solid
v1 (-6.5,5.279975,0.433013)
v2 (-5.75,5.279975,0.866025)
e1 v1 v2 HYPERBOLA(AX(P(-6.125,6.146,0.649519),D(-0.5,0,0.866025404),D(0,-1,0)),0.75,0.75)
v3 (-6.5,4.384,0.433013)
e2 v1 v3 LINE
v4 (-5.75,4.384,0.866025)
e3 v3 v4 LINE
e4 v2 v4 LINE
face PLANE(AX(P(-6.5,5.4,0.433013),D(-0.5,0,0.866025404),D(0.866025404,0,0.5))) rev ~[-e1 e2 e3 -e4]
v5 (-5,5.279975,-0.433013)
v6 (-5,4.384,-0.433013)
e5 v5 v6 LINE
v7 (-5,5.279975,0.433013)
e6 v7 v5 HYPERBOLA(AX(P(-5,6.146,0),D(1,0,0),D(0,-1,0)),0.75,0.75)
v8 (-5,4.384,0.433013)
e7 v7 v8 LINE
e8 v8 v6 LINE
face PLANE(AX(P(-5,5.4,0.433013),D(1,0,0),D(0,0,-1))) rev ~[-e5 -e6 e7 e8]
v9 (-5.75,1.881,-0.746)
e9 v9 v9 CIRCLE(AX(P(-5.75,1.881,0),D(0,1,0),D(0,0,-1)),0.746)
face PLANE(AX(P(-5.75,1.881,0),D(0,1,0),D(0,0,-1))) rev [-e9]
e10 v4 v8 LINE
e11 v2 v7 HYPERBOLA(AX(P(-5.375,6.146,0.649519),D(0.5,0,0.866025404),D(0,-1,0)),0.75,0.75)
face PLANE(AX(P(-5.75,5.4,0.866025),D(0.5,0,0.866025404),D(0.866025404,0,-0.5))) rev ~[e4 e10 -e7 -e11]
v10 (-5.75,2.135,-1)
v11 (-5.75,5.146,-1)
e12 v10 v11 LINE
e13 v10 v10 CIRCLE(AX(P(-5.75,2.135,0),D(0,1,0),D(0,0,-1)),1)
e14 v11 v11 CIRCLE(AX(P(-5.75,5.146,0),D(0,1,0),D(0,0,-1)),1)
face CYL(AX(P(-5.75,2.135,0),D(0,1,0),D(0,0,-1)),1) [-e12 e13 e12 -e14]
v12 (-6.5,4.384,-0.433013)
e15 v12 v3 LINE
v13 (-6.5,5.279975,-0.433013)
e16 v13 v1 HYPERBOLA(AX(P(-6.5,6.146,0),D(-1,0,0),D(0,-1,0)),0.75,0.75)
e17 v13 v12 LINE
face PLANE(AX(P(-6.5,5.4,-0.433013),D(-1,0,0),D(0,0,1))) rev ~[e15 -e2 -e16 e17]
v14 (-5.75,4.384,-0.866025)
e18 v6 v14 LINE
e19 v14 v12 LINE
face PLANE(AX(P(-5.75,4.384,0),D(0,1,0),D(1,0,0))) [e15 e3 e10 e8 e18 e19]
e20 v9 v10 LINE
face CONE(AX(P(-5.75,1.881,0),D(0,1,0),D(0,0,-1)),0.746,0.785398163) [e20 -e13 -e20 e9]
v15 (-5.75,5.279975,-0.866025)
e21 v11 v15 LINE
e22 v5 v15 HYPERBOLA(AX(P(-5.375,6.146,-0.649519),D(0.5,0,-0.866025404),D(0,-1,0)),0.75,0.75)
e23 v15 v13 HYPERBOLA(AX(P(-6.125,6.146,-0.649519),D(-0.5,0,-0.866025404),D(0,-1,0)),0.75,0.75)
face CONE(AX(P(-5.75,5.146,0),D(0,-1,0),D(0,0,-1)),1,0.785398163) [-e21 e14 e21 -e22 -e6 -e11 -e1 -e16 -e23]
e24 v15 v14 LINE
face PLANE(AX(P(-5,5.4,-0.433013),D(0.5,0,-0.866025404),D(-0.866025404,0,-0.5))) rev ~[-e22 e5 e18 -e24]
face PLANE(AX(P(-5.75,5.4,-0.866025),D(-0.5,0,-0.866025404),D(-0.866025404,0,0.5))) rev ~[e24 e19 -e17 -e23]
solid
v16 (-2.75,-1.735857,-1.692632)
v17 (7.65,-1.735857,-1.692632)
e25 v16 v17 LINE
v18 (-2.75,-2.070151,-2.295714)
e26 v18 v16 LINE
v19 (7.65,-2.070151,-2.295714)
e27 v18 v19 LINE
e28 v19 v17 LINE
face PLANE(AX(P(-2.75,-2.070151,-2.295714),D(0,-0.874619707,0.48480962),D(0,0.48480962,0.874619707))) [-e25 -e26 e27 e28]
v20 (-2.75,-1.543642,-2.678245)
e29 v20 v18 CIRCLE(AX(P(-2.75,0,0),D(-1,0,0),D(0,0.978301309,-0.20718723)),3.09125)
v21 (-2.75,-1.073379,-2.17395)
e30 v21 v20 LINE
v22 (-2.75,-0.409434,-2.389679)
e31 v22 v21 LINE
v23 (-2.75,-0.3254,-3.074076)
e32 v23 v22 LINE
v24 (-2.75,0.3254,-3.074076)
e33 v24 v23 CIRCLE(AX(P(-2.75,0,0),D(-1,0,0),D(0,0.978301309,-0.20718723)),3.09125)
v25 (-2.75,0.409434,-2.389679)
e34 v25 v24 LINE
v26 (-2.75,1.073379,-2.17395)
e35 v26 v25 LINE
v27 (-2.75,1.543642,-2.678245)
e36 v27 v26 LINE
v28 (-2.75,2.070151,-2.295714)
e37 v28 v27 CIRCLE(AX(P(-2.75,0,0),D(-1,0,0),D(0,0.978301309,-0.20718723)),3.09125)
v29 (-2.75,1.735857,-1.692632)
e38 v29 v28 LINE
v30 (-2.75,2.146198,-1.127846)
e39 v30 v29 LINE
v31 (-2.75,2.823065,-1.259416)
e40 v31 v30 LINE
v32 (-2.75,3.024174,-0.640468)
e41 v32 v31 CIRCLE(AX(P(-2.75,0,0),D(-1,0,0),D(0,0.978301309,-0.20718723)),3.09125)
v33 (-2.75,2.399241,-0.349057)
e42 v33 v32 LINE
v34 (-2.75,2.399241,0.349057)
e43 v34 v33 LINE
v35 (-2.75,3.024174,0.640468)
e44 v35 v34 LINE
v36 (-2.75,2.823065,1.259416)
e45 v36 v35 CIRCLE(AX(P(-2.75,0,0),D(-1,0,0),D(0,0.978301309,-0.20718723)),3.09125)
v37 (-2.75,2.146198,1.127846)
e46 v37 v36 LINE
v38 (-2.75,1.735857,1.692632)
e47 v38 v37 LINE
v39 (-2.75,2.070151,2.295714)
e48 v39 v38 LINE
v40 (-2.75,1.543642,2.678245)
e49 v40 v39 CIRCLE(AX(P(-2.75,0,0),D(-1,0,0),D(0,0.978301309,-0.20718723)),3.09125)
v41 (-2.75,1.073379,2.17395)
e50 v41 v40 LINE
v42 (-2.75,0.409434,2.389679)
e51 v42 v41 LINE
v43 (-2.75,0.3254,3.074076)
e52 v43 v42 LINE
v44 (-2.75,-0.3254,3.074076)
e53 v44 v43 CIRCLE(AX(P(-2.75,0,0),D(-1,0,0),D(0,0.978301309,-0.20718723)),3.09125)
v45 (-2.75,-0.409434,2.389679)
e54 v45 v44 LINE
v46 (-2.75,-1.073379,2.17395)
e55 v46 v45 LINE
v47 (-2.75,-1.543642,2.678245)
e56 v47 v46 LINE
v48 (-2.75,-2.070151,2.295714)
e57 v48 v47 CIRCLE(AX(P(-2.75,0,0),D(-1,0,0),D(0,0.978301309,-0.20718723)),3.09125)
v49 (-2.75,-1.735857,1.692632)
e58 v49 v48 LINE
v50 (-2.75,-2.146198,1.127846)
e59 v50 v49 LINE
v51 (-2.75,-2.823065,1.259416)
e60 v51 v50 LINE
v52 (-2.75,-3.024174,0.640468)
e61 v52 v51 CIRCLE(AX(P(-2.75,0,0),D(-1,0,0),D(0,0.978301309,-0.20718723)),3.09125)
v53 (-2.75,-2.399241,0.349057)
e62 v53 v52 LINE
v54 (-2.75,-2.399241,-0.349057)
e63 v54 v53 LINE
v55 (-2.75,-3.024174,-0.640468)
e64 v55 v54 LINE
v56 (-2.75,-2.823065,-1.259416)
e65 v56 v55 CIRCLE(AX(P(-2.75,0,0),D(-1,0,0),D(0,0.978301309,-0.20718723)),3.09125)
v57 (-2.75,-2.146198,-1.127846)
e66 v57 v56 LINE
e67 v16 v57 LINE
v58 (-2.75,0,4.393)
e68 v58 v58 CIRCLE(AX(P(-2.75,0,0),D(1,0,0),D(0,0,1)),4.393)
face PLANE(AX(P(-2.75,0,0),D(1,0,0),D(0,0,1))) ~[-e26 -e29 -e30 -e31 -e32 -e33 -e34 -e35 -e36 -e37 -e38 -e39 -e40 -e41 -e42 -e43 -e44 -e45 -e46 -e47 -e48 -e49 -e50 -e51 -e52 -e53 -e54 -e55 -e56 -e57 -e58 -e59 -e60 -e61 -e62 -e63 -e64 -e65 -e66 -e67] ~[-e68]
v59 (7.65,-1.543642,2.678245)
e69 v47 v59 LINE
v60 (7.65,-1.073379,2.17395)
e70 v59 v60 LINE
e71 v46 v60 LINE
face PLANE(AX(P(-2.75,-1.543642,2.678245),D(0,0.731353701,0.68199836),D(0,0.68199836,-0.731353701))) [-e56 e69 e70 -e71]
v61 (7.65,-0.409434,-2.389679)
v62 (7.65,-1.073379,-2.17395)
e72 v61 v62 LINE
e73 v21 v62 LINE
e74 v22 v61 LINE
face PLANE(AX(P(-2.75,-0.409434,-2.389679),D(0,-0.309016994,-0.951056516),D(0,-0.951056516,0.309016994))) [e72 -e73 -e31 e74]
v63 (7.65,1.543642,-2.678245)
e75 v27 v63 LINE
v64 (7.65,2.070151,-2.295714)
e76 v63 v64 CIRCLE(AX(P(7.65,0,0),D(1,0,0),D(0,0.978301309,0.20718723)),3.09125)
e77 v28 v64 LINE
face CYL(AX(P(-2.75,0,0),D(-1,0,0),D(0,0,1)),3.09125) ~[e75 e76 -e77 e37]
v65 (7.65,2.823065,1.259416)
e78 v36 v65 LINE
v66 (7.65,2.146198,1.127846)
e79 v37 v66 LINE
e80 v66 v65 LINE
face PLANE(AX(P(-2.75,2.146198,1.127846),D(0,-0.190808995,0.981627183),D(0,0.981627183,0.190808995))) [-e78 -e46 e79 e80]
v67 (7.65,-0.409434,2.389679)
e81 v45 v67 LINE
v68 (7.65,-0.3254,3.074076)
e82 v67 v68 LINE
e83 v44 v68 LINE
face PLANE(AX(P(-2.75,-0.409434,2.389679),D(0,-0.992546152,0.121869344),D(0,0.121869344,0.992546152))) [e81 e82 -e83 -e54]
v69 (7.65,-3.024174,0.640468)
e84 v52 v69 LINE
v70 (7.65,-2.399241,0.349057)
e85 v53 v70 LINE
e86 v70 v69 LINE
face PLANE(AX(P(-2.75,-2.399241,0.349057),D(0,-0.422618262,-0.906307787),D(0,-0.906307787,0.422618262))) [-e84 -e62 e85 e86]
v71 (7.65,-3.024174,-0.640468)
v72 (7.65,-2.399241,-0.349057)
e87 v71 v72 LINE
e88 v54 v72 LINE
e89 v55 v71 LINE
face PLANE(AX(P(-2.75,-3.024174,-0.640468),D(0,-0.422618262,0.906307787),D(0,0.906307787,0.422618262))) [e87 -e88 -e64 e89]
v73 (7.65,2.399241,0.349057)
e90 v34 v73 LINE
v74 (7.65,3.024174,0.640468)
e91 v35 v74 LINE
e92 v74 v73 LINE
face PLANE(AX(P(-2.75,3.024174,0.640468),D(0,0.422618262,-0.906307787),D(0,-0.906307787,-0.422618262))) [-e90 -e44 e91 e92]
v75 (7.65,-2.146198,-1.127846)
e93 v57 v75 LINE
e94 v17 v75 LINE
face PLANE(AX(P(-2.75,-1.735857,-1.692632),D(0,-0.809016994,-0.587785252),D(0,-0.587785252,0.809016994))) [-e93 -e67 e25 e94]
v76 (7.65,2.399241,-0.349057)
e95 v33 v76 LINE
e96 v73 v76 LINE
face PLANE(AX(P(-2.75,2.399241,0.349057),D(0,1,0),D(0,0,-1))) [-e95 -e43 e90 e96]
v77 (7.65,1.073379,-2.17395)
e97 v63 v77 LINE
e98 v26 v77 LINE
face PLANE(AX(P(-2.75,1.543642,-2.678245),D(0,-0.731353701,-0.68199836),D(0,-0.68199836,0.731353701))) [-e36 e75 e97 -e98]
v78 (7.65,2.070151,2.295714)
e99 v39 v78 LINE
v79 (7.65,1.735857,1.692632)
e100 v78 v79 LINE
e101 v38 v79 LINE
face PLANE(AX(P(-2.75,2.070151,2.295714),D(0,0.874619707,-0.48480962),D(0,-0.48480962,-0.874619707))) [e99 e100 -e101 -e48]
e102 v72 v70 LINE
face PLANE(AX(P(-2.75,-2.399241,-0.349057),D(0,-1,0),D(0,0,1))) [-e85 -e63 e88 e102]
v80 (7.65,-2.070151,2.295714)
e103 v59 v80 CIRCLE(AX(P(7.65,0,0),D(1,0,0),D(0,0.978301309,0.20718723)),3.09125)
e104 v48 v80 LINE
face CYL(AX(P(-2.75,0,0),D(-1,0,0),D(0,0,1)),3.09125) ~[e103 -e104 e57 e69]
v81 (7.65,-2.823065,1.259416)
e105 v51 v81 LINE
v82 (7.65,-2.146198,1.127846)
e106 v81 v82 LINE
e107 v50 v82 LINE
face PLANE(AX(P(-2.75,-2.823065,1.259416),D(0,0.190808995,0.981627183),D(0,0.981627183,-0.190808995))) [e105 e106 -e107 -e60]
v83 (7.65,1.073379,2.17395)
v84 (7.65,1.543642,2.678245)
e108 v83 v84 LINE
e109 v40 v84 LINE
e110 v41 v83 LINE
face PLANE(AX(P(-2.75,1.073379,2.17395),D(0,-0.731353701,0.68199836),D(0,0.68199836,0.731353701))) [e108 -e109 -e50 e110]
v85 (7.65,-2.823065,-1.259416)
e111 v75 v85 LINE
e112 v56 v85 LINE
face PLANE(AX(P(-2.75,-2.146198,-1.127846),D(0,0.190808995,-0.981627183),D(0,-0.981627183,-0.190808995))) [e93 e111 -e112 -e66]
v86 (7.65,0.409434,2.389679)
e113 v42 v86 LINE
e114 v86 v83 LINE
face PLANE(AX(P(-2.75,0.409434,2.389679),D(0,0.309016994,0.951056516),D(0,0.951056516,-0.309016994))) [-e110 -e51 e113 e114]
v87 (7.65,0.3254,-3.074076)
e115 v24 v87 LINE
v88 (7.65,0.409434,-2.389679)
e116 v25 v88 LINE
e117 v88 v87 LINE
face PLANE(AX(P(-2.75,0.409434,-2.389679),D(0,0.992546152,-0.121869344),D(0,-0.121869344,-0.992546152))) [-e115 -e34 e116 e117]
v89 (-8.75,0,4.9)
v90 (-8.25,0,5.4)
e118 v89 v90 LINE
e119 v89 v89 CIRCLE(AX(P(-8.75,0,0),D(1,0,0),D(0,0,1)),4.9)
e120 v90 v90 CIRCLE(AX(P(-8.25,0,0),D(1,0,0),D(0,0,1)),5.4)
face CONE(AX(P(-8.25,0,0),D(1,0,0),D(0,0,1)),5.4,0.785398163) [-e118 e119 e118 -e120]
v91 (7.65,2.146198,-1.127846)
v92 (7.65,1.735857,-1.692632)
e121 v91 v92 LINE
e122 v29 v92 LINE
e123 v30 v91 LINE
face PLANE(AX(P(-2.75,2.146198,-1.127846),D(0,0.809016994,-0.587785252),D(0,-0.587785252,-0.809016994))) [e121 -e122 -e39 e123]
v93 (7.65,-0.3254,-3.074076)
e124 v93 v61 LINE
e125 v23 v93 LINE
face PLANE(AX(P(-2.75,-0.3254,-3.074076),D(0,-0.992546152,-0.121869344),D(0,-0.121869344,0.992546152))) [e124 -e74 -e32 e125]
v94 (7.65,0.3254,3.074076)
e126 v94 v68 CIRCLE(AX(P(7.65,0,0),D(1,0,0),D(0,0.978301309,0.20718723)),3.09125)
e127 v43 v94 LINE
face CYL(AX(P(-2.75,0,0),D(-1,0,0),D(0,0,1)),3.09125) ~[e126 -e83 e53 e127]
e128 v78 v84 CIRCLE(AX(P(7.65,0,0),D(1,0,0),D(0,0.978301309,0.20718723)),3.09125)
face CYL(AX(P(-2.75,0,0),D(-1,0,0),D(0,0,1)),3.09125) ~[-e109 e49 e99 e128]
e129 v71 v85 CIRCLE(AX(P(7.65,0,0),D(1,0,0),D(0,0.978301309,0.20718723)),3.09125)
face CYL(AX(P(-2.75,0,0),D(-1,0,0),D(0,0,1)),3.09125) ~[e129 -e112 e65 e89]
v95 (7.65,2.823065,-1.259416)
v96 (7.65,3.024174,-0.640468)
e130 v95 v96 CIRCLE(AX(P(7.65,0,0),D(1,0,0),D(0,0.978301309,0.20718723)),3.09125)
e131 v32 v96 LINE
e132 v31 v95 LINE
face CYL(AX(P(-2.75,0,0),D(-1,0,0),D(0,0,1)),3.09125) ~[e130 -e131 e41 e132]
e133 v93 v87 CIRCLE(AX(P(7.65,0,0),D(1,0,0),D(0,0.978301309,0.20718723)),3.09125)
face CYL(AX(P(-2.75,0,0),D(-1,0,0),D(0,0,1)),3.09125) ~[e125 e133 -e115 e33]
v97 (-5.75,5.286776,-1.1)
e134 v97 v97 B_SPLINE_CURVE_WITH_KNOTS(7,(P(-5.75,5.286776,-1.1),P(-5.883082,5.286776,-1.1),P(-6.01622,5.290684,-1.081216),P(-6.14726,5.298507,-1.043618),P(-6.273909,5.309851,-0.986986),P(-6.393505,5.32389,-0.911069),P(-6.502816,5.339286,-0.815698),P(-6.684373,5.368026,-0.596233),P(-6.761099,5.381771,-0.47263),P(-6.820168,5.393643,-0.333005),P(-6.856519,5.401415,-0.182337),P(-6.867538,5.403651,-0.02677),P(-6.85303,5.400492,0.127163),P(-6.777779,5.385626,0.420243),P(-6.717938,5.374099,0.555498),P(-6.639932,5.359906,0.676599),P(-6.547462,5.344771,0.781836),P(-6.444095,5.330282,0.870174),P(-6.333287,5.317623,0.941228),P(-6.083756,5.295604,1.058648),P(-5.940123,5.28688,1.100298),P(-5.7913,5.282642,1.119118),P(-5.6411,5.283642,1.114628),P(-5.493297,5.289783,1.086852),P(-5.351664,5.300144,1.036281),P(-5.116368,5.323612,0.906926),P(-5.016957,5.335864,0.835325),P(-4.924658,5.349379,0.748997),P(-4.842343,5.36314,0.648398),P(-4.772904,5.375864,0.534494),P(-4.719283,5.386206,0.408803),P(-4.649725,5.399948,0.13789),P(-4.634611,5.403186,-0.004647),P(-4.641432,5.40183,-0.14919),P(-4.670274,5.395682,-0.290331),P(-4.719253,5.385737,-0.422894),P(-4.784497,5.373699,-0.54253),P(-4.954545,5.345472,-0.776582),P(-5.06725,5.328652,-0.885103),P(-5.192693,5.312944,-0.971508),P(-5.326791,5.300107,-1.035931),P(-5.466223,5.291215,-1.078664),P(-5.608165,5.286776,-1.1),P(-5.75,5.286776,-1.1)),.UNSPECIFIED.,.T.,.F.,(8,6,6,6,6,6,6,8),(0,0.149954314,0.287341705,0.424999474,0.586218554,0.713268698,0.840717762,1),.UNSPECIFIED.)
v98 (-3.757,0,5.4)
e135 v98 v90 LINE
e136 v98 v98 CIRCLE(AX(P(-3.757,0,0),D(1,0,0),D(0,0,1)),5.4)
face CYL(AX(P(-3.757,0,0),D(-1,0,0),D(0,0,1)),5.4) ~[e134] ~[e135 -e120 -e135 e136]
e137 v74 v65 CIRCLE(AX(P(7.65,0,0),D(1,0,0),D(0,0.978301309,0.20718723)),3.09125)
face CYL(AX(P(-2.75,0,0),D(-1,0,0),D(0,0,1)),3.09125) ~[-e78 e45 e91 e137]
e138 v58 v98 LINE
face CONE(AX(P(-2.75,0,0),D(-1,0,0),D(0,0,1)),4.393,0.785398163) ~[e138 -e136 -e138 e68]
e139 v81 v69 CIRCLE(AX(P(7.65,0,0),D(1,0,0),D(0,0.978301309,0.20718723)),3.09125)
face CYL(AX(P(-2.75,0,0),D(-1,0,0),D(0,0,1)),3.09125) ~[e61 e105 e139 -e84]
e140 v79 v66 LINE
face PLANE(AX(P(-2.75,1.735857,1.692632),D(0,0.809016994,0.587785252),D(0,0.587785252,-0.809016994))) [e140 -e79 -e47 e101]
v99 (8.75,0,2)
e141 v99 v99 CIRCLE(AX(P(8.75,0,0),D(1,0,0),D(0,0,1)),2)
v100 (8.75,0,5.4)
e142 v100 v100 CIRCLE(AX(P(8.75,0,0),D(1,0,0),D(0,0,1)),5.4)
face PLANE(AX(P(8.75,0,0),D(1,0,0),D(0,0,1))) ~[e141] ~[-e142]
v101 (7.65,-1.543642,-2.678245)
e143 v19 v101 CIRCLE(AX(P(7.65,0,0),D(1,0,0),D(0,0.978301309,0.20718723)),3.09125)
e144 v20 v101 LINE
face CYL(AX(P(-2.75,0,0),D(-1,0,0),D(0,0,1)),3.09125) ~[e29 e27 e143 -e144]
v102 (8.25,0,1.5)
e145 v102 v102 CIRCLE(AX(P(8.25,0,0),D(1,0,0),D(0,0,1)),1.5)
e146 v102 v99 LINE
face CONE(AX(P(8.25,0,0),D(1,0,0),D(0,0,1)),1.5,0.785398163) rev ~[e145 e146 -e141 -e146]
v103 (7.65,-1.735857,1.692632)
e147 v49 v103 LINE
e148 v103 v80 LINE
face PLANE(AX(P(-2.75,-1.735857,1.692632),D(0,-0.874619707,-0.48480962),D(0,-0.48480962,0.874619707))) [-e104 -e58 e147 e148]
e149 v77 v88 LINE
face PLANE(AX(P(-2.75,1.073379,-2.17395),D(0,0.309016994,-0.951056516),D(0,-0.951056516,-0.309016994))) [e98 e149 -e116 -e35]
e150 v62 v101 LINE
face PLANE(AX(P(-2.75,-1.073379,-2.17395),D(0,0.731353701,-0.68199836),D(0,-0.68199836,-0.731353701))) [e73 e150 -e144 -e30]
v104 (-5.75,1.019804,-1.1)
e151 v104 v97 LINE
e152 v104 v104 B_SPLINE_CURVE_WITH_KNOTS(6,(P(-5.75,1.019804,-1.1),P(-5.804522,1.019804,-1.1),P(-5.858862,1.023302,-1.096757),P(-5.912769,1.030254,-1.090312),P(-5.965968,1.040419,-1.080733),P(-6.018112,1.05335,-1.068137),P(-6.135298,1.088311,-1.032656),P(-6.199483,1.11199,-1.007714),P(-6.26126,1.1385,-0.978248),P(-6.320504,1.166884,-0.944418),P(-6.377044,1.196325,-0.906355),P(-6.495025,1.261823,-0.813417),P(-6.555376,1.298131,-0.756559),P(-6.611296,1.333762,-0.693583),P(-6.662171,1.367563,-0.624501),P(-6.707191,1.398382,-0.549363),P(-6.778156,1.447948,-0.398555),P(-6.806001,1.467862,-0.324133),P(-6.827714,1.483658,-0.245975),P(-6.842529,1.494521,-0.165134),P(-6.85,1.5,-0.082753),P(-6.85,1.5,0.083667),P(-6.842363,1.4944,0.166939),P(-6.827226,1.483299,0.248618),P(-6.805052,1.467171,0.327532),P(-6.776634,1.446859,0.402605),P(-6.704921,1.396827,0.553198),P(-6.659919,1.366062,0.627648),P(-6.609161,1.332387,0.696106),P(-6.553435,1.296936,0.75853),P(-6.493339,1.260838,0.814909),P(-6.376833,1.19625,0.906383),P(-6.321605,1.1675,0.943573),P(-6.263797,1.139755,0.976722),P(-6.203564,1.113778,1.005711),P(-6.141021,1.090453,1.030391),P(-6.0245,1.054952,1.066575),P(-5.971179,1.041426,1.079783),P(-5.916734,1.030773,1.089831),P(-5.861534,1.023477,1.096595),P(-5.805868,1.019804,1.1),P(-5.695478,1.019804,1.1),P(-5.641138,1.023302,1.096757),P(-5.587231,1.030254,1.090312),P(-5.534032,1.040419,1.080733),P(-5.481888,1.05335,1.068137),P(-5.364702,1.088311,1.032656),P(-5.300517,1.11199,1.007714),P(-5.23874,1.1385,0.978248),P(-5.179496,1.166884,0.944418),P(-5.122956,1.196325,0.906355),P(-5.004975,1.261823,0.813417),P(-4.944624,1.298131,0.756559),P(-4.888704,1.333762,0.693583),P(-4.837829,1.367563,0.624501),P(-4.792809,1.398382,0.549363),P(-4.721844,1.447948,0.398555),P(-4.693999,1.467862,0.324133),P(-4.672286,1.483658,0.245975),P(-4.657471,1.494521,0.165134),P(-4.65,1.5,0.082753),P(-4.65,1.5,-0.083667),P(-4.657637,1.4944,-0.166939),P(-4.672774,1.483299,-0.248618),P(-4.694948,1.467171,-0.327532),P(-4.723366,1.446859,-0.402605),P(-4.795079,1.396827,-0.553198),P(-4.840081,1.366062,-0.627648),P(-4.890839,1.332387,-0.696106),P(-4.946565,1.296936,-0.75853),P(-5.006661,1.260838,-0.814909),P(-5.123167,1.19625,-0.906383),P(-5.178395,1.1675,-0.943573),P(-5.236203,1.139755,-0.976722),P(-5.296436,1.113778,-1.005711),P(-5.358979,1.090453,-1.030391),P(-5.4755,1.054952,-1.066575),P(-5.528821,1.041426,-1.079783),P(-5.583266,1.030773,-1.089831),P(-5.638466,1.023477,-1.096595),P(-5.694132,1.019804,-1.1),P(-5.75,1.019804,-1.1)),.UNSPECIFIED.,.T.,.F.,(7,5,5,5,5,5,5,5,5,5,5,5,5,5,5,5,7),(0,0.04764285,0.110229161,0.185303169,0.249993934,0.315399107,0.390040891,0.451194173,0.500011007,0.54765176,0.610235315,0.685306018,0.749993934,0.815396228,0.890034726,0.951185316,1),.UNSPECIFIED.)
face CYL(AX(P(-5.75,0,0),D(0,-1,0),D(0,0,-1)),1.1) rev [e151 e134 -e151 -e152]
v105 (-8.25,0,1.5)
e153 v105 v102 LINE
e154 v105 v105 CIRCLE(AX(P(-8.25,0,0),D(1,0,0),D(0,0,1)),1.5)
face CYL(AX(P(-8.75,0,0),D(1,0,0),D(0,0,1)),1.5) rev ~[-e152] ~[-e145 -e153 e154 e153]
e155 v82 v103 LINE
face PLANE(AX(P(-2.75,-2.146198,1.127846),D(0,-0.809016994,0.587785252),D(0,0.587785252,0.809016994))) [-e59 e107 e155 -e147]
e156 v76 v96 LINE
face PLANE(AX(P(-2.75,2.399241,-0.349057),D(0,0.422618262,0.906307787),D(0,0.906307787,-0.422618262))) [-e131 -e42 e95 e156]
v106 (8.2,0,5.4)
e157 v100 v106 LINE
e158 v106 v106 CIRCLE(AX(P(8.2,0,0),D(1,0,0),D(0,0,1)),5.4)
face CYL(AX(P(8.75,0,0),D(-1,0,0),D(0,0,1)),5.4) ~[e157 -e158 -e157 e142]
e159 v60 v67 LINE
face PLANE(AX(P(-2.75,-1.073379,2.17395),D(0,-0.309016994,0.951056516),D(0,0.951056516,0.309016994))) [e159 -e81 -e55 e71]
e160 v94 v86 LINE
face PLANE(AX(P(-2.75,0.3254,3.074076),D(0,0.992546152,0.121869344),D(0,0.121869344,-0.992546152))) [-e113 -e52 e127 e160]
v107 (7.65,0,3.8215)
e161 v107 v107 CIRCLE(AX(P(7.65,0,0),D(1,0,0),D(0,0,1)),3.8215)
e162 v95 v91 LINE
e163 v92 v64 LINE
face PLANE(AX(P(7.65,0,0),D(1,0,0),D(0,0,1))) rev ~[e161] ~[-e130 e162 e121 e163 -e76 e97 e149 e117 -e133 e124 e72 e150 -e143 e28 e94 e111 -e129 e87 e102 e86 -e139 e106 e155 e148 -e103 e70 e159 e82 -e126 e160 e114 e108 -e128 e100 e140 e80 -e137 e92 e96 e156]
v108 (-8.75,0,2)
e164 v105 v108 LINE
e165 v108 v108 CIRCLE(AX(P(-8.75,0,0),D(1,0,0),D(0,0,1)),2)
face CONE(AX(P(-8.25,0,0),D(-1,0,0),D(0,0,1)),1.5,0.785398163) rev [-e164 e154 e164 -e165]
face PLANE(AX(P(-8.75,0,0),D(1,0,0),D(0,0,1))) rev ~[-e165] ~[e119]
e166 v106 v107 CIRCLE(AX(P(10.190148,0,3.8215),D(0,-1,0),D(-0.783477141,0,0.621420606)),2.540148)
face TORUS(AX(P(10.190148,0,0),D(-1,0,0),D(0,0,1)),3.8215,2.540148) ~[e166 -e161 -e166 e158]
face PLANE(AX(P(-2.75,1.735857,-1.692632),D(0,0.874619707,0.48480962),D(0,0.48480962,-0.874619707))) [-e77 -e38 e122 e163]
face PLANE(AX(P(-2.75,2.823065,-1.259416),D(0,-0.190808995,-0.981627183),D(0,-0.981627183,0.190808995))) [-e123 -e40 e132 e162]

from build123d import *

# Parameters (mm, degrees)
SKETCH4_R          = 3.25
SKETCH4_R_2        = 3.09125
CUT_EXTRUDE2_DEPTH = 10.4
CUT_EXTRUDE1_DEPTH = 10.4
CIRPATTERN1_COUNT  = 10
SKETCH6_R          = 1.1
CUT_EXTRUDE3_DEPTH = 12.613892543
CUT_EXTRUDE4_DEPTH = 1.016
CHAMFER1_SIZE      = 0.5


with BuildPart() as part:
    # Sketch1 → Revolve1 (revolve)
    with BuildSketch(Plane.XY, mode=Mode.PRIVATE) as revolve1_sk:
        with BuildLine():
            Line((-8.75, 1.5), (8.75, 1.5))
            Line((8.75, 1.5), (8.75, 5.4))
            Line((8.75, 5.4), (8.2, 5.4))
            ThreePointArc((8.2, 5.4), (7.791437689, 4.657287391), (7.65, 3.8215))
            Line((7.65, 3.8215), (7.65, 3.25))
            Line((7.65, 3.25), (-2.75, 3.25))
            Line((-2.75, 3.25), (-2.75, 4.393))
            Line((-2.75, 4.393), (-3.757, 5.4))
            Line((-3.757, 5.4), (-8.75, 5.4))
            Line((-8.75, 5.4), (-8.75, 1.5))
        make_face()
    revolve(revolve1_sk.sketch.rotate(Axis((-8.75, 0, 0), (1, 0, 0)), 90), axis=Axis((-8.75, 0, 0), (1, 0, 0)))

    # Sketch4 → Cut-Extrude2 (cut)
    with BuildSketch(Plane(origin=(-2.75, 0, 0), x_dir=(0, 0, -1), z_dir=(1, 0, 0))):
        Circle(SKETCH4_R)
        with Locations(Location((0, 0, 0), (0, 0, 180))):
            Circle(SKETCH4_R_2, mode=Mode.SUBTRACT)
    extrude(amount=CUT_EXTRUDE2_DEPTH, mode=Mode.SUBTRACT)

    # Sketch3 → Cut-Extrude1 (cut)
    with BuildSketch(Plane(origin=(-2.75, 0, 0), x_dir=(0, 0, -1), z_dir=(1, 0, 0))):
        with BuildLine():
            Line((-0.640467525, 3.024173922), (-0.349056738, 2.399241473))
            Line((-0.349056738, 2.399241473), (0.349056738, 2.399241473))
            Line((0.349056738, 2.399241473), (0.640467525, 3.024173922))
            ThreePointArc((0.640467525, 3.024173922), (0, 3.09125), (-0.640467525, 3.024173922))
        make_face()
    cut_extrude1 = extrude(amount=CUT_EXTRUDE1_DEPTH, mode=Mode.SUBTRACT)

    # CirPattern1: Cut-Extrude1 ×10 about axis
    cirpattern1_axis = Axis((0, 0, 0), (1, 0, 0))
    for i in range(1, CIRPATTERN1_COUNT):
        add(cut_extrude1.rotate(cirpattern1_axis, i * 360 / CIRPATTERN1_COUNT), mode=Mode.SUBTRACT)

    # Sketch6 → Cut-Extrude3 (cut, through all)
    with BuildSketch(Plane(origin=(0, 0, 0), x_dir=(1, 0, 0), z_dir=(0, 1, 0))):
        with Locations(Location((-5.75, 0, 0), (0, 0, 90))):
            Circle(SKETCH6_R)
    extrude(amount=CUT_EXTRUDE3_DEPTH, mode=Mode.SUBTRACT)

    # Chamfer1
    chamfer1_edges = [part.edges().sort_by_distance(p)[0] for p in [
        (-8.75, 0, -5.4),
        (-8.75, 0, -1.5),
        (8.75, 0, -1.5),
    ]]
    chamfer(chamfer1_edges, length=CHAMFER1_SIZE)


with BuildPart() as body_2:
    # Sketch7 → Revolve2 (revolve)
    with BuildSketch(Plane.XY, mode=Mode.PRIVATE) as revolve2_sk:
        Polygon((-6.496, 5.4), (-5.75, 5.4), (-5.75, 1.881), (-6.496, 1.881), (-6.75, 2.135), (-6.75, 5.146), align=None)
    revolve(revolve2_sk.sketch.rotate(Axis((-5.75, 1.881, 0), (0, 1, 0)), 270), axis=Axis((-5.75, 1.881, 0), (0, 1, 0)))

    # Sketch8 → Cut-Extrude4 (cut)
    with BuildSketch(Plane(origin=(0, 5.4, 0), x_dir=(1, 0, 0), z_dir=(0, 1, 0))):
        Polygon((-5.75, 0.866025404), (-6.5, 0.433012702), (-6.5, -0.433012702), (-5.75, -0.866025404), (-5, -0.433012702), (-5, 0.433012702), align=None)
    extrude(amount=-CUT_EXTRUDE4_DEPTH, mode=Mode.SUBTRACT)


solid = Compound([part.part, body_2.part])
